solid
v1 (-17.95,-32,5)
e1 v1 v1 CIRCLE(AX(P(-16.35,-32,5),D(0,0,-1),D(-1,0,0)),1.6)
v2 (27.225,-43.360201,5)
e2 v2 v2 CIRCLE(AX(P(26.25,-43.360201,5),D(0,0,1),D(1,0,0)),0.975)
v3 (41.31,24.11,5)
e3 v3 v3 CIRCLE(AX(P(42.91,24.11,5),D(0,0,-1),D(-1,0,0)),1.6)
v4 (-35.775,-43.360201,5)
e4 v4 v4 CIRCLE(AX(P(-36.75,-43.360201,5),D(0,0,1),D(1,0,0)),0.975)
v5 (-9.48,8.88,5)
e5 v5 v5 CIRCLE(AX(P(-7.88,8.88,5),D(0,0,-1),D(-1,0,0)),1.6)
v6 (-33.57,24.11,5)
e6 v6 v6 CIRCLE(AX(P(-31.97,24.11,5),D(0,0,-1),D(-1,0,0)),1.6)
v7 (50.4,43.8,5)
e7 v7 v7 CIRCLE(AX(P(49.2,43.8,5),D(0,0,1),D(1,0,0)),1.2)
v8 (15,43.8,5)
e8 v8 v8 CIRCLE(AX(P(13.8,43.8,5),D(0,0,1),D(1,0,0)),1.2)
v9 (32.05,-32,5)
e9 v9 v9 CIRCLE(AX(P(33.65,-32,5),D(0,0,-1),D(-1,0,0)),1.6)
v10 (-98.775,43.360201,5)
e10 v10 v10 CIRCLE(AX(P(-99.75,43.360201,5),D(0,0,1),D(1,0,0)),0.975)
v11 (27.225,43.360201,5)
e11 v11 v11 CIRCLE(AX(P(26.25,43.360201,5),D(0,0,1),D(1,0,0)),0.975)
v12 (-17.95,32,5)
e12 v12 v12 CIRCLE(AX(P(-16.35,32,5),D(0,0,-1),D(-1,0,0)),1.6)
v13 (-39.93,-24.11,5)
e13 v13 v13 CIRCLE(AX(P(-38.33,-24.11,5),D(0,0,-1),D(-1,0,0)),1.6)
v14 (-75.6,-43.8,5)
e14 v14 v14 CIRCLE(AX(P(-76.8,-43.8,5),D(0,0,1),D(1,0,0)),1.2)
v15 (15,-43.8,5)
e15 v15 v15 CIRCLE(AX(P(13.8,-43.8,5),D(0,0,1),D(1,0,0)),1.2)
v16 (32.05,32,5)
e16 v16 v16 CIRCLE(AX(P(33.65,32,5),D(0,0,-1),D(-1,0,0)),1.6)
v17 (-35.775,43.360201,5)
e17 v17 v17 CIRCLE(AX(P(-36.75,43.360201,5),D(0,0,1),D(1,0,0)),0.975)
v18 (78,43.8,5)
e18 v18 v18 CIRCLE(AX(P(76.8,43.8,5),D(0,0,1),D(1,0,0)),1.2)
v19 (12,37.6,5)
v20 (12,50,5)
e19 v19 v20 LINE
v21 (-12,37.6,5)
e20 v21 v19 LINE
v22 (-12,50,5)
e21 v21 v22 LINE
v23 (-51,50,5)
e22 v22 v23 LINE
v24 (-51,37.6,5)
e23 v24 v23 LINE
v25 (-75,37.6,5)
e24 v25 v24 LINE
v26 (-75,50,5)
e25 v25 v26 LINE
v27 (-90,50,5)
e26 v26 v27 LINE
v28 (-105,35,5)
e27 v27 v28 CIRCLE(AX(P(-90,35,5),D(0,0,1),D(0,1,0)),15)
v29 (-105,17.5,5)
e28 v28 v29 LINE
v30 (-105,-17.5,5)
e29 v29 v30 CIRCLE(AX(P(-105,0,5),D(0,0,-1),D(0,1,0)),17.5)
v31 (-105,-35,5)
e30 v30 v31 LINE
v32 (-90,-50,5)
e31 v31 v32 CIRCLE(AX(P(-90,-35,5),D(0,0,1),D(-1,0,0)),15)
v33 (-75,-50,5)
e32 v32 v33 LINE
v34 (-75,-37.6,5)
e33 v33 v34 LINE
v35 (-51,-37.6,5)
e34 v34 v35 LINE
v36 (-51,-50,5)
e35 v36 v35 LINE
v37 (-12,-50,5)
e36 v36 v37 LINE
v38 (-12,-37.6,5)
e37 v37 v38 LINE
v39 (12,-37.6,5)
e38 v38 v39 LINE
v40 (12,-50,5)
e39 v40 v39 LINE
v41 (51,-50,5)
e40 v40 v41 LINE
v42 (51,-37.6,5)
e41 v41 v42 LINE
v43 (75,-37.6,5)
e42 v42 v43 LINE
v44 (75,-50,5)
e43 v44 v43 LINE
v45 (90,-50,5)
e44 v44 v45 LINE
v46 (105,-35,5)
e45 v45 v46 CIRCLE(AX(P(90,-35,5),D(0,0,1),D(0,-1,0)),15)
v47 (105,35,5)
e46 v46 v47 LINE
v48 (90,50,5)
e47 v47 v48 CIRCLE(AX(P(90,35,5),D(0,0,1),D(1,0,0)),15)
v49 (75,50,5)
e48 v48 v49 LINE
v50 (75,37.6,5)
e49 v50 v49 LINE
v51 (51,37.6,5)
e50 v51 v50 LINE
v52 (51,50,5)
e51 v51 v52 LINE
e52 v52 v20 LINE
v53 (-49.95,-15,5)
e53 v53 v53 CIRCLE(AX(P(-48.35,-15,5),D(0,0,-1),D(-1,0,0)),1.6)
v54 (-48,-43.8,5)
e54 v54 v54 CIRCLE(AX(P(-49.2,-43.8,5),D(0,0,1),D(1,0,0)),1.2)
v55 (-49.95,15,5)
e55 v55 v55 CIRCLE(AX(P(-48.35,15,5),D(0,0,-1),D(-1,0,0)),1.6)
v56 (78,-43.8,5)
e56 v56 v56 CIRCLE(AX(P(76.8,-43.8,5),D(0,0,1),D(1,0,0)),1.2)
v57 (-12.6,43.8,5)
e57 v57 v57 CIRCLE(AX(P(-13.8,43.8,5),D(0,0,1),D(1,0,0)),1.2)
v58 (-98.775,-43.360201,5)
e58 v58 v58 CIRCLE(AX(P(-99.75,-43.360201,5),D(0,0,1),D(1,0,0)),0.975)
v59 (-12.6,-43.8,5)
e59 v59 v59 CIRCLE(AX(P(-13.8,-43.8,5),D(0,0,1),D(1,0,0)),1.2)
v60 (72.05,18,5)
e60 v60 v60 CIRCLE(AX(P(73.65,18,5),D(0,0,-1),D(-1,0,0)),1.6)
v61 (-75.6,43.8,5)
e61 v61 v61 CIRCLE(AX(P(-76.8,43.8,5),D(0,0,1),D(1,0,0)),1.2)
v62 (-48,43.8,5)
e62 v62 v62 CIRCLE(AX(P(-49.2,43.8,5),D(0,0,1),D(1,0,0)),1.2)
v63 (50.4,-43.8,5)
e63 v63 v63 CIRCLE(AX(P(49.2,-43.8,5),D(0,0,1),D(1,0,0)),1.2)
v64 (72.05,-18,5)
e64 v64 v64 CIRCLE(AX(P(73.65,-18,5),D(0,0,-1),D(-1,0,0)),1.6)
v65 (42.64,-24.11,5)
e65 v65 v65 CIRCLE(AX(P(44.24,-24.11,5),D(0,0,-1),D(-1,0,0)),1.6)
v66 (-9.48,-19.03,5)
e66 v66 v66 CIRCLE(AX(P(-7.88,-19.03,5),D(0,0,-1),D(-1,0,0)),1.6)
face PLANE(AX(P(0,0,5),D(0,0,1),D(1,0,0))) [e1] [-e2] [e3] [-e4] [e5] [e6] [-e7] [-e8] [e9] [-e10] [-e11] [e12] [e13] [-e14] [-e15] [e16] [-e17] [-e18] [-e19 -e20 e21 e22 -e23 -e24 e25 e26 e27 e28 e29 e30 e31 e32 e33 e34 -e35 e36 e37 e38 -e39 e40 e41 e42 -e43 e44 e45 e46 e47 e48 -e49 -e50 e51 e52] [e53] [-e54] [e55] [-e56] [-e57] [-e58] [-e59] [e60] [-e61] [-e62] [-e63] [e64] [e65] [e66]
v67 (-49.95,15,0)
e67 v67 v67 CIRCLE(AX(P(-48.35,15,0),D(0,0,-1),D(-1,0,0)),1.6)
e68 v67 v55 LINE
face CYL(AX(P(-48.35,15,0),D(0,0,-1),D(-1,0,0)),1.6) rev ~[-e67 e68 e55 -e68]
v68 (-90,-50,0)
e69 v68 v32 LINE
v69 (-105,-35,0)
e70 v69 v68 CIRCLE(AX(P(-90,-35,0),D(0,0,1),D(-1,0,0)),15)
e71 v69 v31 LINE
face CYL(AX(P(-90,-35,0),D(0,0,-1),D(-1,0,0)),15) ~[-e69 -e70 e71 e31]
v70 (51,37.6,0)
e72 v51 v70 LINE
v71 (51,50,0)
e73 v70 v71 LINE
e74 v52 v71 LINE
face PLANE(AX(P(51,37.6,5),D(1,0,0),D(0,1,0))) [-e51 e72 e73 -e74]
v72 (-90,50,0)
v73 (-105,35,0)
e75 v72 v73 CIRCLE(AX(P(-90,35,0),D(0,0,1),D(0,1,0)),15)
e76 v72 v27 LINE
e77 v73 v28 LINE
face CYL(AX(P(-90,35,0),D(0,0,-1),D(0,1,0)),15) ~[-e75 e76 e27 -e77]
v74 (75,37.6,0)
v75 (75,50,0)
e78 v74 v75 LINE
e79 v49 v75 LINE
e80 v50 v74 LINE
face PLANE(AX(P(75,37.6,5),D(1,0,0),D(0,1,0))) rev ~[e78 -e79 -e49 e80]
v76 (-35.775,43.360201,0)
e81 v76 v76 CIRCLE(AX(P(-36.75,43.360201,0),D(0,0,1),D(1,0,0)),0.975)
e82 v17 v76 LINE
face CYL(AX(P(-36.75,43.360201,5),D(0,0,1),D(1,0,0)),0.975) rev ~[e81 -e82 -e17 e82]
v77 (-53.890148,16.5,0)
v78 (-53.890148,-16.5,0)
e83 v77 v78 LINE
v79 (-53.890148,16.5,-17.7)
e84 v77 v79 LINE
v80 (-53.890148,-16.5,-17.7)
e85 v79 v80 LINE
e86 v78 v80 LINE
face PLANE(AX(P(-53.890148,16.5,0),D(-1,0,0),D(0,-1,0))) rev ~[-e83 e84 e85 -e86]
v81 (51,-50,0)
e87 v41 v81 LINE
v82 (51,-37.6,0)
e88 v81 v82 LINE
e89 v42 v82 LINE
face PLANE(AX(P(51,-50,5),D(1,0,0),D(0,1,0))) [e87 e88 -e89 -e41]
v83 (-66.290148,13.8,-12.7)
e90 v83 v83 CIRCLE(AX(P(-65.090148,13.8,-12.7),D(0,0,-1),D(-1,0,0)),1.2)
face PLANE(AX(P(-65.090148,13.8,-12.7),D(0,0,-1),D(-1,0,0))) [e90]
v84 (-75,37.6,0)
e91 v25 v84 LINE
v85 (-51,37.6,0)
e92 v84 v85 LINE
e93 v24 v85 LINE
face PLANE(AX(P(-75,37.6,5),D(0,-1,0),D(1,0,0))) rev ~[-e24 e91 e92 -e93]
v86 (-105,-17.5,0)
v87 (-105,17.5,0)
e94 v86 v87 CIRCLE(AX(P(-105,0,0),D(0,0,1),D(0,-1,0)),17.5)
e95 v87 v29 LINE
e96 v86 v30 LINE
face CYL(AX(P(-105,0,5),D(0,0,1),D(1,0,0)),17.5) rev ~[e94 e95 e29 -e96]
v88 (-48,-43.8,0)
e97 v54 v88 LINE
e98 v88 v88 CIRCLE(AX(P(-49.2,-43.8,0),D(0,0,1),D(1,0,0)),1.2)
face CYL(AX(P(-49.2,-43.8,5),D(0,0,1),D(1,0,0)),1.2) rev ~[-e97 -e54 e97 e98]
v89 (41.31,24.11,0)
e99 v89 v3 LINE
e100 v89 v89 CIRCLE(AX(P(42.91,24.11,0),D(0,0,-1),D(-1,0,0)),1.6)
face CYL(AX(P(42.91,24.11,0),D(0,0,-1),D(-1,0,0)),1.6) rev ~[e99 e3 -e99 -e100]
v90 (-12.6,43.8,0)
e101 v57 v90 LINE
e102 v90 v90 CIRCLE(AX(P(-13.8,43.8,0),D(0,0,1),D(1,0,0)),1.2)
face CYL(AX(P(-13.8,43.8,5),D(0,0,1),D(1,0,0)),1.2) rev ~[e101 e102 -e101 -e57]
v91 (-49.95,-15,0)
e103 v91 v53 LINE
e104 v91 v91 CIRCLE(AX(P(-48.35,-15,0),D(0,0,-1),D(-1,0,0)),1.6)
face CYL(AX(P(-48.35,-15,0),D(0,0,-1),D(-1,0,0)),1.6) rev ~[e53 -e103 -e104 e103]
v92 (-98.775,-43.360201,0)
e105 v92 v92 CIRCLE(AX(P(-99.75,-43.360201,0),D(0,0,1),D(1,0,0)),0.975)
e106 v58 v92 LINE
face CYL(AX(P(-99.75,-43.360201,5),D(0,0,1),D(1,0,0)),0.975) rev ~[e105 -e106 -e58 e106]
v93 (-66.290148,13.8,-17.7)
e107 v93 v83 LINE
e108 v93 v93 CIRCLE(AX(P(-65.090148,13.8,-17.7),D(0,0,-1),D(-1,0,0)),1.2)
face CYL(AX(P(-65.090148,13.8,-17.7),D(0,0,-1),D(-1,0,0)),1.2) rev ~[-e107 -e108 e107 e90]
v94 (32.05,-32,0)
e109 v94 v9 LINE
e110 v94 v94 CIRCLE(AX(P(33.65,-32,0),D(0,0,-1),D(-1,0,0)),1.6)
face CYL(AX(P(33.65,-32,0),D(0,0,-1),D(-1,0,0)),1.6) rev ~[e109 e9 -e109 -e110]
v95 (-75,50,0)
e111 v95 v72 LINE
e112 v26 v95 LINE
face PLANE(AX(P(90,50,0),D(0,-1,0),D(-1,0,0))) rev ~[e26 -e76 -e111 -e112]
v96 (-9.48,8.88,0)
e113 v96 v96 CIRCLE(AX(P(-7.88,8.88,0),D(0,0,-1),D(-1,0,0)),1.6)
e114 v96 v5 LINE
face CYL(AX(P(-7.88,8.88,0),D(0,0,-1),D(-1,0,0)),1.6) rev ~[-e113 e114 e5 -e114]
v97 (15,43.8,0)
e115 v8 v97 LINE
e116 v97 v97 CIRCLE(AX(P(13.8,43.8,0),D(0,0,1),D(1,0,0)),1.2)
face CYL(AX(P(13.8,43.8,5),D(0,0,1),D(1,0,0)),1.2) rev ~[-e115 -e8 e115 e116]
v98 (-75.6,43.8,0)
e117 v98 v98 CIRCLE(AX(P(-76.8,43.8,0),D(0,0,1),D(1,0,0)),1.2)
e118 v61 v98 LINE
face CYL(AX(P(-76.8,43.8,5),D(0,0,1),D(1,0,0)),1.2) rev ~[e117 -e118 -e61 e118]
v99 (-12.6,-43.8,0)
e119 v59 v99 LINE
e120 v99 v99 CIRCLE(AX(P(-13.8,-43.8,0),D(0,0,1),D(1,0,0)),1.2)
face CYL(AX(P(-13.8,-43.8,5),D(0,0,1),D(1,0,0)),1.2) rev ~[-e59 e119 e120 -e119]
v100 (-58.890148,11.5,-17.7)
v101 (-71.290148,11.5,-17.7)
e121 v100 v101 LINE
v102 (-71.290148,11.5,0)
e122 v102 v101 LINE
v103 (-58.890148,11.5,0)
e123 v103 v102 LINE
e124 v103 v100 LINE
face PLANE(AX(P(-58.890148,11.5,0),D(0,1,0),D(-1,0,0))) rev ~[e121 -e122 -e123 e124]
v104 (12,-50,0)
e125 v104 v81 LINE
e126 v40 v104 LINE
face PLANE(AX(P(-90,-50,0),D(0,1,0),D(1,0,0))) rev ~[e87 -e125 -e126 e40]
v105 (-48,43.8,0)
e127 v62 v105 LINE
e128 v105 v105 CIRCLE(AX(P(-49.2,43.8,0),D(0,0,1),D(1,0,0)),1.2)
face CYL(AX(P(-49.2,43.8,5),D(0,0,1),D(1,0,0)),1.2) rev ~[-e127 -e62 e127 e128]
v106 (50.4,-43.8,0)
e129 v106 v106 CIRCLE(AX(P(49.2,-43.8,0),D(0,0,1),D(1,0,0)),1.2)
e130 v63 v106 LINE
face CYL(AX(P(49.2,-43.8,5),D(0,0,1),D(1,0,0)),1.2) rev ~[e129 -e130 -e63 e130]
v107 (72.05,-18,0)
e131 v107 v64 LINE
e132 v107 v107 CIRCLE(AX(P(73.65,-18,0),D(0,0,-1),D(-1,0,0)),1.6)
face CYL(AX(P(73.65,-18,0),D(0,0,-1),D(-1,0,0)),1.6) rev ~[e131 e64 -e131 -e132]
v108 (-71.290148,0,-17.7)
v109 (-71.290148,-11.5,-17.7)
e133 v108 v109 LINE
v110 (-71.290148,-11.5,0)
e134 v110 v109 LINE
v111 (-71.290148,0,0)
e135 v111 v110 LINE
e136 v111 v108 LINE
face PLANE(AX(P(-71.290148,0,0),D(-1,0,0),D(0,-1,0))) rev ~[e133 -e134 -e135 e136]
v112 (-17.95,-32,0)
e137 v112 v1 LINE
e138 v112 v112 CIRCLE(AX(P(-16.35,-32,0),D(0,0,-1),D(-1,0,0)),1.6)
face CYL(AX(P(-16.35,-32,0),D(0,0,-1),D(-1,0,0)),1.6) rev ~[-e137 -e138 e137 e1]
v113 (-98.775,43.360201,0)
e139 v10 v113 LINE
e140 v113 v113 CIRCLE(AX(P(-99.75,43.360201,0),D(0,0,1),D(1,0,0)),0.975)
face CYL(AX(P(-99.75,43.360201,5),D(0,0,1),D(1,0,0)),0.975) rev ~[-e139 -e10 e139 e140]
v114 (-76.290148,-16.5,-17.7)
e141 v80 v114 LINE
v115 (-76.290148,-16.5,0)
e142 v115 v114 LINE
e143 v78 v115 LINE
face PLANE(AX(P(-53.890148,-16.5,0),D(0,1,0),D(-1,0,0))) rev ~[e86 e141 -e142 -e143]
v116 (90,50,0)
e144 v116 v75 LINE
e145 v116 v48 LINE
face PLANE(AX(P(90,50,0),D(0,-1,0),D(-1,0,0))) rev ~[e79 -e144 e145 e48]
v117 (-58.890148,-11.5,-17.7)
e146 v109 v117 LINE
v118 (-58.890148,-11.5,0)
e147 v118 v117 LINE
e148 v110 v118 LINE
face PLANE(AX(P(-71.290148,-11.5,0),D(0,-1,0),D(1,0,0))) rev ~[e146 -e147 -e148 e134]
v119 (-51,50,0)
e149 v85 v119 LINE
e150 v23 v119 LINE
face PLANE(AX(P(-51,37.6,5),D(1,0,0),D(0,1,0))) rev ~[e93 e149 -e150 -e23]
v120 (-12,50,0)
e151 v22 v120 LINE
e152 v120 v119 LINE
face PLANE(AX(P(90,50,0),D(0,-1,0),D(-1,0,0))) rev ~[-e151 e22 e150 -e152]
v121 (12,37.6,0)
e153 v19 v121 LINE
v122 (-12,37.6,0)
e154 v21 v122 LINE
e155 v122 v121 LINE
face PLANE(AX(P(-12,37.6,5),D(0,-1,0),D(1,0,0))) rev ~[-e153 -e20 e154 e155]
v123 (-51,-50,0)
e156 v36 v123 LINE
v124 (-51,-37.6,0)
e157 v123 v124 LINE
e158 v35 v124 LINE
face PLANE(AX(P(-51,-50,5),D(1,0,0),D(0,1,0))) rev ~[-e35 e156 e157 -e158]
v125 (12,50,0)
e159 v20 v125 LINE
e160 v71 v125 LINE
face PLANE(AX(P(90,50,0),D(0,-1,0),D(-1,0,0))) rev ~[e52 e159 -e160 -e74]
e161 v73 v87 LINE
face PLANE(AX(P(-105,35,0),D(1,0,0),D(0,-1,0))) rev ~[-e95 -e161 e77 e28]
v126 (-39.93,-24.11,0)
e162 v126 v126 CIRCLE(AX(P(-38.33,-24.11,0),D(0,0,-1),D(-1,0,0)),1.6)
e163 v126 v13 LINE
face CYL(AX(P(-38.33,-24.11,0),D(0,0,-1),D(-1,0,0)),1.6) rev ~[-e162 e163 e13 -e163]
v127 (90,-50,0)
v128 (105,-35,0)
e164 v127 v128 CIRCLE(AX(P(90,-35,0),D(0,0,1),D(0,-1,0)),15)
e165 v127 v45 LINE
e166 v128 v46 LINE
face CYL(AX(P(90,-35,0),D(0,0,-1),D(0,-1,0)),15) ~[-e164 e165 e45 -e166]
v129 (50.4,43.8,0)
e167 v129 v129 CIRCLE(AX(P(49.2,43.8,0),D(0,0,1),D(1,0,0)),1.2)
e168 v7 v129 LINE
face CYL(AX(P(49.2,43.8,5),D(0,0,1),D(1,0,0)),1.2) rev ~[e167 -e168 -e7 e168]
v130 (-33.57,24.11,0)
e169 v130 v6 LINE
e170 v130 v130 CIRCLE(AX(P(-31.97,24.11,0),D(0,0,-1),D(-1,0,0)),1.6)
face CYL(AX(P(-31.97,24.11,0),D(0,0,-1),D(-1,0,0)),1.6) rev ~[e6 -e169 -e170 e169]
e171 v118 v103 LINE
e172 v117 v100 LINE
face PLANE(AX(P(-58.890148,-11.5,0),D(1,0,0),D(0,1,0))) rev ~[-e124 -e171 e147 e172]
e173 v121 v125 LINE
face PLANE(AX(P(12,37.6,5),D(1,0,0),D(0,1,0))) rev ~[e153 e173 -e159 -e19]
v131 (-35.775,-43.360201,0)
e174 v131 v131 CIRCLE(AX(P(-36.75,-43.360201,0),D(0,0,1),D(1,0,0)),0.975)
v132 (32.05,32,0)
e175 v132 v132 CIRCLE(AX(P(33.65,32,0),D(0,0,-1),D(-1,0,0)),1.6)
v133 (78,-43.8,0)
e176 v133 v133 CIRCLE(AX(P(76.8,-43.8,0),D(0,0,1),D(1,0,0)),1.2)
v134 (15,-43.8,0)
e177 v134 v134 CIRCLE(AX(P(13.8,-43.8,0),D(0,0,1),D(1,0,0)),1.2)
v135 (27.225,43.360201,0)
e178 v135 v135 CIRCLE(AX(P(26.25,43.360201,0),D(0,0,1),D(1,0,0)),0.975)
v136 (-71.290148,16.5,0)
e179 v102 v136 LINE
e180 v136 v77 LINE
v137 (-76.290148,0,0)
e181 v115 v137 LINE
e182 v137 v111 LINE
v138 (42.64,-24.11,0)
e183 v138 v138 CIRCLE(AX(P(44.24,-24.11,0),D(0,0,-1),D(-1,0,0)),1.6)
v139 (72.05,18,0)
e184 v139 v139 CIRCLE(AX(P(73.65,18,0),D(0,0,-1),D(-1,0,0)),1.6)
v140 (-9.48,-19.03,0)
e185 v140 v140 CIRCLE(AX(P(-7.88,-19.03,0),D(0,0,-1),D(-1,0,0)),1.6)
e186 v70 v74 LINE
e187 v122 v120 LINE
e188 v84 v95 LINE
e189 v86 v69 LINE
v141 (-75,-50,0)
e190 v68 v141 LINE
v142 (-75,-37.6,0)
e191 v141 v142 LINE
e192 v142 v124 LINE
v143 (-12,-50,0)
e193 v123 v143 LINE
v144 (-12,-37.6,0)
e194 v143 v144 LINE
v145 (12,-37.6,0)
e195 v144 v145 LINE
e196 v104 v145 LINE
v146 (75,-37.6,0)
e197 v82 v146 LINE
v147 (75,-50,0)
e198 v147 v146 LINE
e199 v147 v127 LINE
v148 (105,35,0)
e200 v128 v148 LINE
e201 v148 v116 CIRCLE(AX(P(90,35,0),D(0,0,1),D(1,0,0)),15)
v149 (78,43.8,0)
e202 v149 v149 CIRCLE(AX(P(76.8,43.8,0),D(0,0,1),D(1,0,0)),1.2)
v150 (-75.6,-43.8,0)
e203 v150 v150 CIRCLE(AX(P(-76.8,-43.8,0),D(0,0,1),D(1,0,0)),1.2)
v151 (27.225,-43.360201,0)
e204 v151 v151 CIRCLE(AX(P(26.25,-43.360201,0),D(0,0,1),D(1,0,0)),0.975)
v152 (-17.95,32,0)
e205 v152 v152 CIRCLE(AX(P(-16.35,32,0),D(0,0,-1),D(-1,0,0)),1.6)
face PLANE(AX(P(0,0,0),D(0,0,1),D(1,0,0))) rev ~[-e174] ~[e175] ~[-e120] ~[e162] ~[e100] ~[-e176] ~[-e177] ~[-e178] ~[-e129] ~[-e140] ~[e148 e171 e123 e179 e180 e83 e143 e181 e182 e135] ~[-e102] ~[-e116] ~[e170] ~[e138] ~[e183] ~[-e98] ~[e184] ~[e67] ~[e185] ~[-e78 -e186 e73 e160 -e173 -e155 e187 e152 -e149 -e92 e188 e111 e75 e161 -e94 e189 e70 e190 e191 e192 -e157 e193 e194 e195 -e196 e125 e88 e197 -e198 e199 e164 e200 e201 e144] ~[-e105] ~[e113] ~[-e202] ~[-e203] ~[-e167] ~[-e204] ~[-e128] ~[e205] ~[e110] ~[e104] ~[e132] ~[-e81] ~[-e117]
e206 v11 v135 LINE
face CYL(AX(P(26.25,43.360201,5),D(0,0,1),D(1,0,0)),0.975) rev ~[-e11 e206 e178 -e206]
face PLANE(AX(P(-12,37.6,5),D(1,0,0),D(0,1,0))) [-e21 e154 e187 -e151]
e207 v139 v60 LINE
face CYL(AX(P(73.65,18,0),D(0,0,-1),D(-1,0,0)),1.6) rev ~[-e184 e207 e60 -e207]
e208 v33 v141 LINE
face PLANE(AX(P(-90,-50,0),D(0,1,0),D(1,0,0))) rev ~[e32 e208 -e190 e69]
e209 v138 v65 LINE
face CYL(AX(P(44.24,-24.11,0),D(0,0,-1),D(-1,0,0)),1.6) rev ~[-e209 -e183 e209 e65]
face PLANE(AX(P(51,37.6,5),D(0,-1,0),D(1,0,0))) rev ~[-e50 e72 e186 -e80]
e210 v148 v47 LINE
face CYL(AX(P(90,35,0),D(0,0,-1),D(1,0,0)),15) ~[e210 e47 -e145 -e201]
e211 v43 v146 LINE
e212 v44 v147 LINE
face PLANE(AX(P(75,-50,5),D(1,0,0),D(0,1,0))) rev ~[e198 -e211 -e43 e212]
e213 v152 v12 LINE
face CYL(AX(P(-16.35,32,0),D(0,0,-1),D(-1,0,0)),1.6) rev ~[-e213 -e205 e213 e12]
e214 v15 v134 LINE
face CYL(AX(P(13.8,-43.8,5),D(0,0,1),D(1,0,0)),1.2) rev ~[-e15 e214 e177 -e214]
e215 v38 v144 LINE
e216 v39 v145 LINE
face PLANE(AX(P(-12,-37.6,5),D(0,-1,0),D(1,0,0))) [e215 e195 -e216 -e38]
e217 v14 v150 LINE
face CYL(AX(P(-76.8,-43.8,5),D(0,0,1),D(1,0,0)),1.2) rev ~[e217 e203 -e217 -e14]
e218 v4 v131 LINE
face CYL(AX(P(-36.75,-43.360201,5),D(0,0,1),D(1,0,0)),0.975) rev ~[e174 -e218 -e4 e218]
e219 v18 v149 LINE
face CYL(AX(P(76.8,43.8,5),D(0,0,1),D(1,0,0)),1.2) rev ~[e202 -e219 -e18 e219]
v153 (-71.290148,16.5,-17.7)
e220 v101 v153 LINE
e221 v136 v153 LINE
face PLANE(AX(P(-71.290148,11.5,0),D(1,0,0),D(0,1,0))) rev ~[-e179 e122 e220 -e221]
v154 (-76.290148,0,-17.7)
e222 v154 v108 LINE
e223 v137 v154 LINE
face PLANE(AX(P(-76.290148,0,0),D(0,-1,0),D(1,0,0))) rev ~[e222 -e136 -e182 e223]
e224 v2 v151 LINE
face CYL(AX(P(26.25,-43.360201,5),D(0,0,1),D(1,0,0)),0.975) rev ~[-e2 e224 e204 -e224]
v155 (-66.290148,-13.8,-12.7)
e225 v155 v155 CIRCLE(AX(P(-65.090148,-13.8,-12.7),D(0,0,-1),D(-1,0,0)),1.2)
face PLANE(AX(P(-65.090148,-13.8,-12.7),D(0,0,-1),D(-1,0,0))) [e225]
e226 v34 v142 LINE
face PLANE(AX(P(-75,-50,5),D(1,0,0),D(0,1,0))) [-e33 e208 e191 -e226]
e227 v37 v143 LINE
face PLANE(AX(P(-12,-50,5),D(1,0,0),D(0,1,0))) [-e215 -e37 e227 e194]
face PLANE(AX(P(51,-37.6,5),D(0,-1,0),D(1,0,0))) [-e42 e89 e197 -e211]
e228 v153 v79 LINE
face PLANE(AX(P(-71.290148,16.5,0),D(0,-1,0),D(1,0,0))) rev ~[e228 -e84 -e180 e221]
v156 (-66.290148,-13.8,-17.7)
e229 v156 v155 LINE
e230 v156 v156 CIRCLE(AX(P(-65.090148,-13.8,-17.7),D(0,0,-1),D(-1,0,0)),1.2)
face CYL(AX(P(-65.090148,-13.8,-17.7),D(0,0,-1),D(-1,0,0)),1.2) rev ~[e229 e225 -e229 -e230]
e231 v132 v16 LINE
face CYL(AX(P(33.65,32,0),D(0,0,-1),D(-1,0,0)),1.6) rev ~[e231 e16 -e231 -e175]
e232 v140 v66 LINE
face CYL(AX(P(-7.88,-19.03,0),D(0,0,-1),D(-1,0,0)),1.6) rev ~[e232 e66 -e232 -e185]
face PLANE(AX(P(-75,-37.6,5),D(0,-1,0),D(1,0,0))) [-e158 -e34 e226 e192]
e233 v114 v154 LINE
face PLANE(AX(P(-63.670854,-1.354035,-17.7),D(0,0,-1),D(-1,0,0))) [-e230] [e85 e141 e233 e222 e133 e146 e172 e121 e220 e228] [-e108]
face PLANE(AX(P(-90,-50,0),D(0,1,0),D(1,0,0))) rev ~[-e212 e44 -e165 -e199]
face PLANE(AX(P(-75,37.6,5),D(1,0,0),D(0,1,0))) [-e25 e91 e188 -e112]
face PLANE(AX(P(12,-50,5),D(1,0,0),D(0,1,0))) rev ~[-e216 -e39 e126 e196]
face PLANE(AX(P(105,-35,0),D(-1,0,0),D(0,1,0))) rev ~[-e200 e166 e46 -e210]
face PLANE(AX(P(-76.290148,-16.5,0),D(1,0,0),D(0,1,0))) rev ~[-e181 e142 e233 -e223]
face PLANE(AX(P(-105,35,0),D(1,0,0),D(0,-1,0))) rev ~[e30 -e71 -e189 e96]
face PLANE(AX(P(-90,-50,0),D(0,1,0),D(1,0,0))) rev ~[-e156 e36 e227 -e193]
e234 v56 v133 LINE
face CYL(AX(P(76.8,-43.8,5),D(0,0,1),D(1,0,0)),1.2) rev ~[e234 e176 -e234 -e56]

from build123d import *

# Parameters (mm, degrees)
BOSS_EXTRUDE2_DEPTH = 5
SKETCH2_W           = 24
SKETCH2_H           = 12.4
CUT_EXTRUDE1_DEPTH  = 5
SKETCH3_R           = 1.2
CUT_EXTRUDE2_DEPTH  = 5
SKETCH5_R           = 0.975
CUT_EXTRUDE3_DEPTH  = 10
SKETCH6_R           = 17.5
CUT_EXTRUDE4_DEPTH  = 10
SKETCH8_R           = 1.6
CUT_EXTRUDE5_DEPTH  = 10
BOSS_EXTRUDE3_DEPTH = 17.7
SKETCH12_R          = 1.2
CUT_EXTRUDE6_DEPTH  = 5


with BuildPart() as part:
    # Sketch1 → Boss-Extrude2 (new body)
    with BuildSketch(Plane.XY):
        with BuildLine():
            Line((-90, -50), (90, -50))
            ThreePointArc((90, -50), (100.606601718, -45.606601718), (105, -35))
            Line((105, -35), (105, 35))
            ThreePointArc((105, 35), (100.606601718, 45.606601718), (90, 50))
            Line((90, 50), (-90, 50))
            ThreePointArc((-90, 50), (-100.606601718, 45.606601718), (-105, 35))
            Line((-105, 35), (-105, -35))
            ThreePointArc((-105, -35), (-100.606601718, -45.606601718), (-90, -50))
        make_face()
    extrude(amount=BOSS_EXTRUDE2_DEPTH)

    # Sketch2 → Cut-Extrude1 (cut)
    with BuildSketch(Plane.XY.offset(5)):
        with Locations((63, -43.8)):
            Rectangle(SKETCH2_W, SKETCH2_H)
        with Locations((-63, 43.8)):
            Rectangle(SKETCH2_W, SKETCH2_H)
        with Locations((0, 43.8)):
            Rectangle(SKETCH2_W, SKETCH2_H)
        with Locations((63, 43.8)):
            Rectangle(SKETCH2_W, SKETCH2_H)
        with Locations((0, -43.8)):
            Rectangle(SKETCH2_W, SKETCH2_H)
        with Locations((-63, -43.8)):
            Rectangle(SKETCH2_W, SKETCH2_H)
    extrude(amount=-CUT_EXTRUDE1_DEPTH, mode=Mode.SUBTRACT)

    # Sketch3 → Cut-Extrude2 (cut)
    with BuildSketch(Plane.XY.offset(5)):
        with Locations((-76.8, 43.8)):
            Circle(SKETCH3_R)
        with Locations((-49.2, 43.8)):
            Circle(SKETCH3_R)
        with Locations((-13.8, 43.8)):
            Circle(SKETCH3_R)
        with Locations((13.8, 43.8)):
            Circle(SKETCH3_R)
        with Locations((49.2, 43.8)):
            Circle(SKETCH3_R)
        with Locations((76.8, 43.8)):
            Circle(SKETCH3_R)
        with Locations((-76.8, -43.8)):
            Circle(SKETCH3_R)
        with Locations((-49.2, -43.8)):
            Circle(SKETCH3_R)
        with Locations((-13.8, -43.8)):
            Circle(SKETCH3_R)
        with Locations((13.8, -43.8)):
            Circle(SKETCH3_R)
        with Locations((49.2, -43.8)):
            Circle(SKETCH3_R)
        with Locations((76.8, -43.8)):
            Circle(SKETCH3_R)
    extrude(amount=-CUT_EXTRUDE2_DEPTH, mode=Mode.SUBTRACT)

    # Sketch5 → Cut-Extrude3 (cut)
    with BuildSketch(Plane.XY.offset(5)):
        with Locations((-36.75, 43.360200931)):
            Circle(SKETCH5_R)
        with Locations((26.25, 43.360200931)):
            Circle(SKETCH5_R)
        with Locations((26.25, -43.360200931)):
            Circle(SKETCH5_R)
        with Locations((-36.75, -43.360200931)):
            Circle(SKETCH5_R)
        with Locations((-99.75, 43.360200931)):
            Circle(SKETCH5_R)
        with Locations((-99.75, -43.360200931)):
            Circle(SKETCH5_R)
    extrude(amount=-CUT_EXTRUDE3_DEPTH, mode=Mode.SUBTRACT)

    # Sketch6 → Cut-Extrude4 (cut)
    with BuildSketch(Plane.XY.offset(5)):
        with Locations((-105, 0)):
            Circle(SKETCH6_R)
    extrude(amount=-CUT_EXTRUDE4_DEPTH, mode=Mode.SUBTRACT)

    # Sketch8 → Cut-Extrude5 (cut)
    with BuildSketch(Plane(origin=(0, 0, 0), x_dir=(-1, 0, 0), z_dir=(0, 0, -1))):
        with Locations((31.97, 24.11)):
            Circle(SKETCH8_R)
        with Locations((38.33, -24.11)):
            Circle(SKETCH8_R)
        with Locations((7.88, 8.88)):
            Circle(SKETCH8_R)
        with Locations((7.88, -19.03)):
            Circle(SKETCH8_R)
        with Locations((-42.91, 24.11)):
            Circle(SKETCH8_R)
        with Locations((-44.24, -24.11)):
            Circle(SKETCH8_R)
        with Locations((-73.65, 18)):
            Circle(SKETCH8_R)
        with Locations((48.35, 15)):
            Circle(SKETCH8_R)
        with Locations((-73.65, -18)):
            Circle(SKETCH8_R)
        with Locations((48.35, -15)):
            Circle(SKETCH8_R)
        with Locations((-33.65, 32)):
            Circle(SKETCH8_R)
        with Locations((16.35, 32)):
            Circle(SKETCH8_R)
        with Locations((-33.65, -32)):
            Circle(SKETCH8_R)
        with Locations((16.35, -32)):
            Circle(SKETCH8_R)
    extrude(amount=-CUT_EXTRUDE5_DEPTH, mode=Mode.SUBTRACT)

    # Sketch10 → Boss-Extrude3 (add)
    with BuildSketch(Plane(origin=(0, 0, 0), x_dir=(-1, 0, 0), z_dir=(0, 0, -1))):
        Polygon((71.290147782, 0), (71.290147782, -11.5), (58.890147782, -11.5), (58.890147782, 11.5), (71.290147782, 11.5), (71.290147782, 16.5), (53.890147782, 16.5), (53.890147782, -16.5), (76.290147782, -16.5), (76.290147782, 0), align=None)
    extrude(amount=BOSS_EXTRUDE3_DEPTH)

    # Sketch12 → Cut-Extrude6 (cut)
    with BuildSketch(Plane(origin=(0, 0, -17.7), x_dir=(-1, 0, 0), z_dir=(0, 0, -1))):
        with Locations((65.090147782, -13.8)):
            Circle(SKETCH12_R)
        with Locations((65.090147782, 13.8)):
            Circle(SKETCH12_R)
    extrude(amount=-CUT_EXTRUDE6_DEPTH, mode=Mode.SUBTRACT)


solid = part.part
